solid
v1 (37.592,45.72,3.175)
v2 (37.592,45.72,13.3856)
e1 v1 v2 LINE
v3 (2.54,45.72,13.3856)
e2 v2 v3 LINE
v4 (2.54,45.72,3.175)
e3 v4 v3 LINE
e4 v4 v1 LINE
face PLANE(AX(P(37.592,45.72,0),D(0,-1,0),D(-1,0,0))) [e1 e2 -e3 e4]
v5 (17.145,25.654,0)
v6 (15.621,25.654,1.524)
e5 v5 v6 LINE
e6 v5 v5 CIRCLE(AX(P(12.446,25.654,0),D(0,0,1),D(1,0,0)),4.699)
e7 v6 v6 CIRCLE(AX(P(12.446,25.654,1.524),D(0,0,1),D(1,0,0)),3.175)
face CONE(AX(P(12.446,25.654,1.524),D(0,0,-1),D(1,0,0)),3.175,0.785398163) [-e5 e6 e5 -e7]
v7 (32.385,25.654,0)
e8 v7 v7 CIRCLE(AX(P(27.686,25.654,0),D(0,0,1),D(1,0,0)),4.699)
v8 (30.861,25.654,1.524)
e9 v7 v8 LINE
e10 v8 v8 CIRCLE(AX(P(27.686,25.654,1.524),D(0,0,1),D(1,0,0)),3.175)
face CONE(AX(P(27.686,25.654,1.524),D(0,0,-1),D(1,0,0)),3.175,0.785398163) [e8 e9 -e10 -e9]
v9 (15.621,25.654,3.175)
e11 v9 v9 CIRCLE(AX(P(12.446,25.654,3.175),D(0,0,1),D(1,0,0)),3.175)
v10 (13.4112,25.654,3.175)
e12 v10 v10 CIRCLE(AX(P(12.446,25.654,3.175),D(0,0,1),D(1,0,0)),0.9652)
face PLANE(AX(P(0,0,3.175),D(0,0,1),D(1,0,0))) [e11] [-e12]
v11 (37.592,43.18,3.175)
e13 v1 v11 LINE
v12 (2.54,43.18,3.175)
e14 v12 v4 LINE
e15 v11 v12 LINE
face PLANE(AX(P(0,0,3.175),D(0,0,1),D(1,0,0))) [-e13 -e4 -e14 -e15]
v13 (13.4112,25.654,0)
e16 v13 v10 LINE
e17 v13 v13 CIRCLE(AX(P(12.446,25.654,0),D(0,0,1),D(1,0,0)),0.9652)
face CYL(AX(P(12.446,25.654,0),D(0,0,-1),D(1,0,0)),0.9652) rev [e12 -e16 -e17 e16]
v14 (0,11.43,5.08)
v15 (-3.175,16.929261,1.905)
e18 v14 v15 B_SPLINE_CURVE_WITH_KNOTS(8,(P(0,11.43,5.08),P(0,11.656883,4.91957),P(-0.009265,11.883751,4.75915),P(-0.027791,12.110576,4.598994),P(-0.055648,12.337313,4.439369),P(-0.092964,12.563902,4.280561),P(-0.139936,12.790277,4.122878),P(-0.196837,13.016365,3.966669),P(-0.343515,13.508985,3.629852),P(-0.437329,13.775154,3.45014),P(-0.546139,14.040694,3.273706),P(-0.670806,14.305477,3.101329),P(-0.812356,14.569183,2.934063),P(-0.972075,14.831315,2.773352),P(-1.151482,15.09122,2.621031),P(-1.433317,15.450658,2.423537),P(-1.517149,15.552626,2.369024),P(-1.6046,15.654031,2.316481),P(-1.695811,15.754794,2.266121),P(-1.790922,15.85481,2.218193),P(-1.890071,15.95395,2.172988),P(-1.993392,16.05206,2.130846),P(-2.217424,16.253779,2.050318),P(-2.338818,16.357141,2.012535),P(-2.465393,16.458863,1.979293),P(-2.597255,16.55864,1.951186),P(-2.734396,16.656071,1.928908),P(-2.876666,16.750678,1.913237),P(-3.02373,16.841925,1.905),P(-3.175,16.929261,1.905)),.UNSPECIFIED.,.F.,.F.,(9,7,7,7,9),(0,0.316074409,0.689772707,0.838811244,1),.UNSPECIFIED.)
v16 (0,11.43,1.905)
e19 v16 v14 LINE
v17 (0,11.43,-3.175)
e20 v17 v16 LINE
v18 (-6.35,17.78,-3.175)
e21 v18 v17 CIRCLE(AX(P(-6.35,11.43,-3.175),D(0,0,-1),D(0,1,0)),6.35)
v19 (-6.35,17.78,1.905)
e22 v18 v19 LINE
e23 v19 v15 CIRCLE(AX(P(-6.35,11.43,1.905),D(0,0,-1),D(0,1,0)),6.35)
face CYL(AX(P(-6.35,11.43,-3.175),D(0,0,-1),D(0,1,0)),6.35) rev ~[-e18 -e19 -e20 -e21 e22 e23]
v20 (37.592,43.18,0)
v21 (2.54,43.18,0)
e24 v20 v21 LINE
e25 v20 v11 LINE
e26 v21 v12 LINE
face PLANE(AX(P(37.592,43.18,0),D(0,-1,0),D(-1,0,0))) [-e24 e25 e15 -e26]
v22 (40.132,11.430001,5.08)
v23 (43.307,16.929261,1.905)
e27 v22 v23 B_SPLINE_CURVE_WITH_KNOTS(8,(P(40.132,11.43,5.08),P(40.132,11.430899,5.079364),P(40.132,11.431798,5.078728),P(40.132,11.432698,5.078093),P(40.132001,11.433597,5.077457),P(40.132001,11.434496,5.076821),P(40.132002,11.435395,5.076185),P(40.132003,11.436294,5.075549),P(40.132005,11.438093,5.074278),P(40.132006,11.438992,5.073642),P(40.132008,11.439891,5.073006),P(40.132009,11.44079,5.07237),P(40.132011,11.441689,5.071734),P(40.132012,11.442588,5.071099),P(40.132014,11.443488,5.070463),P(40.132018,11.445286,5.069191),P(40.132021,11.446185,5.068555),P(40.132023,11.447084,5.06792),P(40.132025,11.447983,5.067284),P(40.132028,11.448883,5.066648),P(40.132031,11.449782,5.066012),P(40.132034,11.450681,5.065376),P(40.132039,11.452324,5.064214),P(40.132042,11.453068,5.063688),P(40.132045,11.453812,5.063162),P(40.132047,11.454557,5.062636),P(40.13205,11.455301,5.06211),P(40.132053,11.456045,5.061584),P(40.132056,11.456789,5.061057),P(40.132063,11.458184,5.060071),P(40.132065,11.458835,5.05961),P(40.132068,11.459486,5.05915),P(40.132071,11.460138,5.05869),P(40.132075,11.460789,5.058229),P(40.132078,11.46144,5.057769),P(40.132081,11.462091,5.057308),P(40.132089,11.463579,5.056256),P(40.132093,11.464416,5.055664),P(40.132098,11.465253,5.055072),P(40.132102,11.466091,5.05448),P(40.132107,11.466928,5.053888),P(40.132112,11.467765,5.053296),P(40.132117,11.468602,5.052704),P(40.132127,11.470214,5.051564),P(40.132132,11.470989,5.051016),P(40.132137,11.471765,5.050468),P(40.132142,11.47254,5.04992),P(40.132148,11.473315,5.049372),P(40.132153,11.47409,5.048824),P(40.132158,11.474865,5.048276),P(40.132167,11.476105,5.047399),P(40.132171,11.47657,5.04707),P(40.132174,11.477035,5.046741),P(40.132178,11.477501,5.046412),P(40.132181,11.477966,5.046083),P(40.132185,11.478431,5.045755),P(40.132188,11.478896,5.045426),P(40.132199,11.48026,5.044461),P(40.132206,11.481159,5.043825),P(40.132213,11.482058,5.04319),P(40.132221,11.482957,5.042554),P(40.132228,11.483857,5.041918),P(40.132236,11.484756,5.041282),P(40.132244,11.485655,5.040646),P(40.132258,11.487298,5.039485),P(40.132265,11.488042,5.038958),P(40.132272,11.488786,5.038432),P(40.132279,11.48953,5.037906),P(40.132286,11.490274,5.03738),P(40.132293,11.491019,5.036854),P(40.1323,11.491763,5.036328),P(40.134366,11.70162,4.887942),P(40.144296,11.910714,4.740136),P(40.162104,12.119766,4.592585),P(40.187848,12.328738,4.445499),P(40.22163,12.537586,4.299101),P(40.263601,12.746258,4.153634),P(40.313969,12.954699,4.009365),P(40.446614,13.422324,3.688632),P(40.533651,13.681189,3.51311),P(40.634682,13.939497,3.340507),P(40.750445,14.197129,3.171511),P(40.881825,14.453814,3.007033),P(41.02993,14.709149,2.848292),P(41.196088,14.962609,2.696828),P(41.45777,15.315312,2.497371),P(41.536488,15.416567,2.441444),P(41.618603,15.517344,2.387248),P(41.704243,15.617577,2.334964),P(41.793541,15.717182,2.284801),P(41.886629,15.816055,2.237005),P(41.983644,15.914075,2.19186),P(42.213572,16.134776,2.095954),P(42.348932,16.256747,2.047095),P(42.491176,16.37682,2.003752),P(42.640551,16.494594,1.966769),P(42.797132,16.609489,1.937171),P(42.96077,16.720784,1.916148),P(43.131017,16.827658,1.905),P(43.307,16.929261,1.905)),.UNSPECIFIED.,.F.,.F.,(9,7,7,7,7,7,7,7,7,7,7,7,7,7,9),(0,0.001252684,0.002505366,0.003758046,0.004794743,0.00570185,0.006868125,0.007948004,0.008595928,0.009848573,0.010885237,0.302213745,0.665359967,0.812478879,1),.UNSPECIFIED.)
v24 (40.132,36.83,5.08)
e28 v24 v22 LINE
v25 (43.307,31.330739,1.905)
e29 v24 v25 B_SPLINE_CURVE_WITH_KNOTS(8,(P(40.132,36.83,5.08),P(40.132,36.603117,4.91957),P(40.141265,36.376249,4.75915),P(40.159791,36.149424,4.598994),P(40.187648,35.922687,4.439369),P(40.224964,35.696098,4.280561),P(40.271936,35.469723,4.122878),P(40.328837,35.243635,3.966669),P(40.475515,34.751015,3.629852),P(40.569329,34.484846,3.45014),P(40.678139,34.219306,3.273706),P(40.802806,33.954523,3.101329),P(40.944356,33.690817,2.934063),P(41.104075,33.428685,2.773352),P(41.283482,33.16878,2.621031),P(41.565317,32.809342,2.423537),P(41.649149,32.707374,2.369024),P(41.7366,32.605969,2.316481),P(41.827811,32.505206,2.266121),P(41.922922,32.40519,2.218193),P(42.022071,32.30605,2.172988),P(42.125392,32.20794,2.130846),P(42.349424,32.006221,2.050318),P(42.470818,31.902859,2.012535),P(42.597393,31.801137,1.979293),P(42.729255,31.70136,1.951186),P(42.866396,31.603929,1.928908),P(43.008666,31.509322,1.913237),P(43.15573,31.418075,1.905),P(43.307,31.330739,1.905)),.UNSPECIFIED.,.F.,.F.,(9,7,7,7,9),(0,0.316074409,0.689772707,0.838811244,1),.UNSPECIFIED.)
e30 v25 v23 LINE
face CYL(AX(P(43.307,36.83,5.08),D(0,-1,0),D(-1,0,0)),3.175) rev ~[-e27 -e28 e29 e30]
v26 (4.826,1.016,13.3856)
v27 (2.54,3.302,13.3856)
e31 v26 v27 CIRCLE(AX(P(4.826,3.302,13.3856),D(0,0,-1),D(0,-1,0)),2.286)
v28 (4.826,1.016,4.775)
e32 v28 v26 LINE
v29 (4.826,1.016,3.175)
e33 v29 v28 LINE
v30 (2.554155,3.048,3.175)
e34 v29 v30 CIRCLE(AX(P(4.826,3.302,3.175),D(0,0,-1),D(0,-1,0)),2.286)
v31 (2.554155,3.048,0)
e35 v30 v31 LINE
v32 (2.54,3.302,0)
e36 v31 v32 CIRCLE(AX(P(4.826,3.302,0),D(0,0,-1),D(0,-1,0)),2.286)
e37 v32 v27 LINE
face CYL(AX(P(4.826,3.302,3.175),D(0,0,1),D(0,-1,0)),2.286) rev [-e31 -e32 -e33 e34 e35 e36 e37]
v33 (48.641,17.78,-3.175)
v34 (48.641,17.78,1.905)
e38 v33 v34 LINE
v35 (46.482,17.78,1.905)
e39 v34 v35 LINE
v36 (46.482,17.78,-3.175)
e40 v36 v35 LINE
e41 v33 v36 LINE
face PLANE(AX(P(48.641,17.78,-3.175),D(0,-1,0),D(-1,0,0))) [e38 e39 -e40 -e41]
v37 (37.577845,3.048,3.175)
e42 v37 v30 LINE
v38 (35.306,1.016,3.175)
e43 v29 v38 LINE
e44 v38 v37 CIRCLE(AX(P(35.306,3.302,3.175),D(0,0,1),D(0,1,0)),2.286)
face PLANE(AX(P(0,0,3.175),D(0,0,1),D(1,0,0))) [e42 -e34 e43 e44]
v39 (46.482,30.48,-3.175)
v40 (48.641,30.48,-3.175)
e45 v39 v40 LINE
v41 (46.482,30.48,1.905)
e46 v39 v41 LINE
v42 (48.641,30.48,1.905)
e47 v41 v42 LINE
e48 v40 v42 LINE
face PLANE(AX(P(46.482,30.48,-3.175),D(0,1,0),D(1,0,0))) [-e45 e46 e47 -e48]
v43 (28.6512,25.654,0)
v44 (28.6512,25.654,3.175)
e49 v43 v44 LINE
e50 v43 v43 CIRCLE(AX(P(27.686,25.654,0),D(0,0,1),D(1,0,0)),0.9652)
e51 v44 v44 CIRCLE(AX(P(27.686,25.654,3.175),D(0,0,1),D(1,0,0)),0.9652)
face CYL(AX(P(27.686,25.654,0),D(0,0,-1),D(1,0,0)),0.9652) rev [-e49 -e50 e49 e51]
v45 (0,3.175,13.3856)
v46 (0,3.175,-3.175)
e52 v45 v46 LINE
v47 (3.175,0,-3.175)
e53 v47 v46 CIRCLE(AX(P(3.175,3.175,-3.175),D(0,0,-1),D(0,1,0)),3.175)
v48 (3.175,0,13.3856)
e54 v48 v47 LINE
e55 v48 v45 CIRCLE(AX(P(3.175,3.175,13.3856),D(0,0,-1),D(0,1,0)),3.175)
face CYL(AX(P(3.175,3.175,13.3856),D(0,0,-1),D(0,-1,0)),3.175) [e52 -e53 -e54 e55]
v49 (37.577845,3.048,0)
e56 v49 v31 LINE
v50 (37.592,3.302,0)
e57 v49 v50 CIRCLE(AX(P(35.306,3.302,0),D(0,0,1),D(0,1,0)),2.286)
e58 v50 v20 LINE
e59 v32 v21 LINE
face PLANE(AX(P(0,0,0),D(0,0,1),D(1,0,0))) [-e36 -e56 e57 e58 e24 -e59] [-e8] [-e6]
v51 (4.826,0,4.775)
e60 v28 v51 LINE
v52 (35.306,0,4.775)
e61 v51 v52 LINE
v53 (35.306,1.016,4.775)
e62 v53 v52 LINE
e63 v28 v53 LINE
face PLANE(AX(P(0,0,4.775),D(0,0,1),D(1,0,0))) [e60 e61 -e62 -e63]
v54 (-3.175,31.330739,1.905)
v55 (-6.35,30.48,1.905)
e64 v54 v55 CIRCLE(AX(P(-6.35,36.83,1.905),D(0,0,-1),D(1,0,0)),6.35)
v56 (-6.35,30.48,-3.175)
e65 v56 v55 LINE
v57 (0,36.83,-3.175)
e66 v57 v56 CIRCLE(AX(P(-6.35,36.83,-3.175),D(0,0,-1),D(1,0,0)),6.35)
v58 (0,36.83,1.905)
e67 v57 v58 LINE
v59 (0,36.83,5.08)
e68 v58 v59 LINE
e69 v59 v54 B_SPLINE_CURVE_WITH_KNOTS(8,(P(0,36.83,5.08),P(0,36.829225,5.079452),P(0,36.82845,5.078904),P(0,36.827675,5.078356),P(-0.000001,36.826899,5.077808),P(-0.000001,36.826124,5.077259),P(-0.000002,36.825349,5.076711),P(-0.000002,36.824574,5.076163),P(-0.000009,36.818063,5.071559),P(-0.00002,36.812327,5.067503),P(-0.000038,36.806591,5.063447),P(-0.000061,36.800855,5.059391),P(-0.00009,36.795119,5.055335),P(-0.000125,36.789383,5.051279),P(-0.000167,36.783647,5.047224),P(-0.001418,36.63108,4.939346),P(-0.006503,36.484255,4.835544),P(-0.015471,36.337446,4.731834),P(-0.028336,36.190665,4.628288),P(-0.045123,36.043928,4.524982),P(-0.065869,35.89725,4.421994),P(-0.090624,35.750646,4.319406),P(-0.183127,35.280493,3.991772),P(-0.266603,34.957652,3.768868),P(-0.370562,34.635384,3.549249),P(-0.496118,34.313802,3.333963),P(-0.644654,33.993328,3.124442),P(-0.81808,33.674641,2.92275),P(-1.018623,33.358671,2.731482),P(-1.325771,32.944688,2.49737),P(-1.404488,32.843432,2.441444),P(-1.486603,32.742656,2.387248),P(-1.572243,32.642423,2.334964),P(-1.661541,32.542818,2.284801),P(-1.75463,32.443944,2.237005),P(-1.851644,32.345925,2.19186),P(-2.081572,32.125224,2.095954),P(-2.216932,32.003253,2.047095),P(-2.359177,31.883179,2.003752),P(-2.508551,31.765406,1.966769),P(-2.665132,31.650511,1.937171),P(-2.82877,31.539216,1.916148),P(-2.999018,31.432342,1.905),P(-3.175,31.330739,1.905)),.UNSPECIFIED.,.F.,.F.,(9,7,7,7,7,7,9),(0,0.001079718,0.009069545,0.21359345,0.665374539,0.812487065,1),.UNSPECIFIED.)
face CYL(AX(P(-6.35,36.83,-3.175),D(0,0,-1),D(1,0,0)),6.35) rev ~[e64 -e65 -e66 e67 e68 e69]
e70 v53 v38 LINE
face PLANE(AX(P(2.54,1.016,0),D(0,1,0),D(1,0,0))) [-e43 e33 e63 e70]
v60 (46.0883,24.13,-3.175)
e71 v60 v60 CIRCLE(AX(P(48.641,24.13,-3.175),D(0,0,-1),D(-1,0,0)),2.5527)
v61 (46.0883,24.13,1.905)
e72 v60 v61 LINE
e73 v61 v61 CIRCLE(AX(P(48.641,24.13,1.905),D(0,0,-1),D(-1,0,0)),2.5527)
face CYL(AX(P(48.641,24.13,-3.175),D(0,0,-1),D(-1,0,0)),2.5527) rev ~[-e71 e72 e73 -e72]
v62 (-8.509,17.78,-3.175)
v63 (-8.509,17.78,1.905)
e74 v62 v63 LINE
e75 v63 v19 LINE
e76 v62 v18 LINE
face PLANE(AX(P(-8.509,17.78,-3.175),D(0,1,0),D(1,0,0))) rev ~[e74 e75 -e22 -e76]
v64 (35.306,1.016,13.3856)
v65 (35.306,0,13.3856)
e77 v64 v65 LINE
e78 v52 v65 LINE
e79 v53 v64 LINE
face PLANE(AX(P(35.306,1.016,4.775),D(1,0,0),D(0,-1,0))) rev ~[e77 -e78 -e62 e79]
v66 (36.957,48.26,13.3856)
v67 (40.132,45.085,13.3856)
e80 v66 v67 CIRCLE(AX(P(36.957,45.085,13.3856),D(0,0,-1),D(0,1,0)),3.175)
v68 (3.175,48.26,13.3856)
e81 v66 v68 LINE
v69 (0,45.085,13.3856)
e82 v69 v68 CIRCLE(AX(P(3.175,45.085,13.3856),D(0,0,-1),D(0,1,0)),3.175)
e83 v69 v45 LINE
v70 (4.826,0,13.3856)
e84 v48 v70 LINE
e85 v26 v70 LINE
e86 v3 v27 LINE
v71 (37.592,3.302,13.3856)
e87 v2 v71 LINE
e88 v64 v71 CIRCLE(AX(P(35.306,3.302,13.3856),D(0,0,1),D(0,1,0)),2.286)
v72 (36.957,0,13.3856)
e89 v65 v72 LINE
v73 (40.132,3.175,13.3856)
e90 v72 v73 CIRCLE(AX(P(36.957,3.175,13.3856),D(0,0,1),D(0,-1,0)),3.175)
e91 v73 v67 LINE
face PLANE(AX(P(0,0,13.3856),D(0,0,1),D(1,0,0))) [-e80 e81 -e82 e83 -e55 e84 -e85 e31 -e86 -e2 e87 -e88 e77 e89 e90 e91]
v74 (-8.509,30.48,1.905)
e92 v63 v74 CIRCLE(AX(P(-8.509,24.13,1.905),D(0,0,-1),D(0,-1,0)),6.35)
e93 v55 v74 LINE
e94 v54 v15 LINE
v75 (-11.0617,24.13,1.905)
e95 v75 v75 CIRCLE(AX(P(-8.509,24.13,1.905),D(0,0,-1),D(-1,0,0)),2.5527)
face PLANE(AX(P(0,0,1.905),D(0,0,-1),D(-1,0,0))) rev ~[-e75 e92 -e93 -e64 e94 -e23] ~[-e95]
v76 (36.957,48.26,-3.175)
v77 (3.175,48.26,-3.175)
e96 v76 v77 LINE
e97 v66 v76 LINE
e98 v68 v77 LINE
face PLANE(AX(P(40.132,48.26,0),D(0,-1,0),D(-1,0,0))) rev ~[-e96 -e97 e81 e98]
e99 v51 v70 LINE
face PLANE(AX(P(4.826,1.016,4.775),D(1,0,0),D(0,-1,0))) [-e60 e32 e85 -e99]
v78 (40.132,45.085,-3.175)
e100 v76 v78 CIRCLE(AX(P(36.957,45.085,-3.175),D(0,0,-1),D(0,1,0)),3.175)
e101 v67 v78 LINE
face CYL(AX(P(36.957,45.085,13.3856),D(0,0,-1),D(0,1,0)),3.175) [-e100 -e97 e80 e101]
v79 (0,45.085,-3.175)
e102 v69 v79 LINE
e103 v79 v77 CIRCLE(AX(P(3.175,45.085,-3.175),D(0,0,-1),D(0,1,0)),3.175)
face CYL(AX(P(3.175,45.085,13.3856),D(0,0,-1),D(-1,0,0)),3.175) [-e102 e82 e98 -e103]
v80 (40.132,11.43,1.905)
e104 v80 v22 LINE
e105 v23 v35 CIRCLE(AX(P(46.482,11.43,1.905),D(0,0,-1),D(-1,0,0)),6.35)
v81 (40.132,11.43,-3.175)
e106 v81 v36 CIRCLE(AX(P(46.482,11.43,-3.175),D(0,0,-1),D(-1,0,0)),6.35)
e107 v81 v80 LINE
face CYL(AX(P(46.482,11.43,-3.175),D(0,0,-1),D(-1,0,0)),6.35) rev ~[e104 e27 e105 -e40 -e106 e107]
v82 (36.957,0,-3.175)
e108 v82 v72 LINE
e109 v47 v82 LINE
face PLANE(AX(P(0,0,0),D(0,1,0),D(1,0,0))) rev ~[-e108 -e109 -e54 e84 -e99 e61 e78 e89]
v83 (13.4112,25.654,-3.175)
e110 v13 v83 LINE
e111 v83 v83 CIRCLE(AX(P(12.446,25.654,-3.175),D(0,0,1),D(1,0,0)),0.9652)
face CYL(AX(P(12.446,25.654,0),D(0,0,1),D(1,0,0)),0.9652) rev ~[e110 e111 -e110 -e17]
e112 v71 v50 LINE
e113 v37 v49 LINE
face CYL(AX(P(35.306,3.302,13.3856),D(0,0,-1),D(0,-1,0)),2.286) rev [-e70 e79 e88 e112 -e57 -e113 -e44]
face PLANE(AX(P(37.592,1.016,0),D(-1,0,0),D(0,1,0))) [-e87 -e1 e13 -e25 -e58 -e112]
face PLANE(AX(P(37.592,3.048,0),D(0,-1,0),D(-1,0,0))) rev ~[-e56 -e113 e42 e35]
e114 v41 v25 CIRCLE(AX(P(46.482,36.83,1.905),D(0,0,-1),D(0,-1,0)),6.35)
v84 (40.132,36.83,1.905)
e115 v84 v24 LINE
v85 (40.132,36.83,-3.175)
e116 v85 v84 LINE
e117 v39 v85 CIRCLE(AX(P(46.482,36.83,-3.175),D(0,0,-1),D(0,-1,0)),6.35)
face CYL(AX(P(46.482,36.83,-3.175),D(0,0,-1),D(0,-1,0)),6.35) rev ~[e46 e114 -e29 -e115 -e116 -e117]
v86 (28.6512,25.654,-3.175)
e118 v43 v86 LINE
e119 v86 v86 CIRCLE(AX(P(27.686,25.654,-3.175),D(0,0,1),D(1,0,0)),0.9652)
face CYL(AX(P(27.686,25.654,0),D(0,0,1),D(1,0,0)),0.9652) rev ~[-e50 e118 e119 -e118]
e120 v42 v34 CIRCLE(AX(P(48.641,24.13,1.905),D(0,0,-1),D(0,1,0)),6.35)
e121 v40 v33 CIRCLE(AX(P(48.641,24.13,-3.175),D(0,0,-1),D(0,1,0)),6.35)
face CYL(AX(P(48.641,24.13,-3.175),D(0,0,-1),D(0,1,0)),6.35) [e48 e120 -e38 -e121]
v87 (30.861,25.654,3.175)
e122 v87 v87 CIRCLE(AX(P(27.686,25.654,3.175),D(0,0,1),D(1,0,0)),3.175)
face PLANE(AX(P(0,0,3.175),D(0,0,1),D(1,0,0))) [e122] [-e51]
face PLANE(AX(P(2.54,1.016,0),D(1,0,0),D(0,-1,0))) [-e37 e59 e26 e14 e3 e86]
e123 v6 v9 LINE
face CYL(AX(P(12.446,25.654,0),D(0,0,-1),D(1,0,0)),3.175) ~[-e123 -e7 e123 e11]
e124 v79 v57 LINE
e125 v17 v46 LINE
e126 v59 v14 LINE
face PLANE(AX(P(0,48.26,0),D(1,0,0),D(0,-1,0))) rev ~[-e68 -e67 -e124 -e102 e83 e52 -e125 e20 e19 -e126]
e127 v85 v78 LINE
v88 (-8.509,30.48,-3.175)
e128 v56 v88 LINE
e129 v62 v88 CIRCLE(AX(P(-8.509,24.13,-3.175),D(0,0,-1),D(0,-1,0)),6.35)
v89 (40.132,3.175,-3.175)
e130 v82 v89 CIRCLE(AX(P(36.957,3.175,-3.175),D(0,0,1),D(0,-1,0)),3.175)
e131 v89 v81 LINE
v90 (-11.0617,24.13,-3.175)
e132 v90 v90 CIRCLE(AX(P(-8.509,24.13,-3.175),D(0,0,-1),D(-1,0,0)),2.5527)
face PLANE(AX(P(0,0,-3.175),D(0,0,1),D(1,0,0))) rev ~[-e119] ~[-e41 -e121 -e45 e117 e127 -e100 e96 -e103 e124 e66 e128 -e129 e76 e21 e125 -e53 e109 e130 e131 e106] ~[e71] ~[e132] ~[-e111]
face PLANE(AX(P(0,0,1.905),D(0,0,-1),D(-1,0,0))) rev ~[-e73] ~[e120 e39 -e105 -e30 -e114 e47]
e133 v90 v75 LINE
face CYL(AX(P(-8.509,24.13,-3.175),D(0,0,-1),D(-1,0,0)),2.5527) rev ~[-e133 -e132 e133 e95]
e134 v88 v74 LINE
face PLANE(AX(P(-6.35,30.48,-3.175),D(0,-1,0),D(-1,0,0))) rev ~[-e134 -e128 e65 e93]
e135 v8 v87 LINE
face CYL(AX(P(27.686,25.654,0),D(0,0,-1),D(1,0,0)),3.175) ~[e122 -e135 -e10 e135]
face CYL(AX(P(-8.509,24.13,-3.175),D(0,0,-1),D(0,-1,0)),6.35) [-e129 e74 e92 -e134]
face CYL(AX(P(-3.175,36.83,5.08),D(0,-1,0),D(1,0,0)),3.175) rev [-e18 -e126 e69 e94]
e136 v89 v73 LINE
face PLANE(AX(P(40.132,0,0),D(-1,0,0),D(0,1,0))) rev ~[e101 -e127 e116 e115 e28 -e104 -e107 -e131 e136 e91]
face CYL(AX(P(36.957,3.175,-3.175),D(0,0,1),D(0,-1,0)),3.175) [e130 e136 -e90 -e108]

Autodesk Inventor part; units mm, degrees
ref_plane "YZ Plane" through (0, 0, 0) normal (1, 0, 0) x (0, 1, 0)
ref_plane "XZ Plane" through (0, 0, 0) normal (0, 1, 0) x (-1, 0, 0)
ref_plane "XY Plane" through (0, 0, 0) normal (0, 0, 1) x (1, 0, 0)
sketch "Sketch1" plane through (0, 0, 0) normal (0, 0, 1) x (1, 0, 0)
  line L0 (0, 0) -> (40.132, 0)
  line L1 (40.132, 0) -> (40.132, 48.26)
  line L2 (40.132, 48.26) -> (0, 48.26)
  line L3 (0, 48.26) -> (0, 0)
  line L4 (3.556, 44.704) -> (36.576, 44.704) construction
  line L5 (36.576, 44.704) -> (36.576, 1.524) construction
  line L6 (36.576, 1.524) -> (3.556, 1.524) construction
  line L7 (3.556, 1.524) -> (3.556, 44.704) construction
  line L8 (37.592, 1.016) -> (37.592, 45.72)
  line L9 (37.592, 45.72) -> (2.54, 45.72)
  line L10 (2.54, 45.72) -> (2.54, 1.016)
  line L11 (2.54, 1.016) -> (37.592, 1.016) construction
  line L12 (2.54, 1.016) -> (2.54, 0)
  line L13 (37.592, 1.016) -> (37.592, 0)
  line L14 (12.446, 25.654) -> (27.686, 25.654)
  point P0 (20.066, 48.26)
  point P1 (20.066, 44.704)
  point P2 (3.556, 23.114)
  point P3 (0, 24.13)
  point P4 (20.066, 25.654)
  dimension "d2" = 33.02
  dimension "d3" = 43.18
  dimension "d4" = 1.524
  dimension "d8" = 2.54
  dimension "d9" = 1.016
  dimension "d14" = 15.24
  dimension "d15" = 19.05
  dimension "d34" = 1.016
  dimension "d35" = 1.016
extrude "Extrusion1" add sketch "Sketch1" against normal blind 3.175
sketch "Sketch2" plane through (0, 0, 0) normal (0, 0, 1) x (1, 0, 0)
  line L0 (2.54, 1.016) -> (2.54, 0) projected
  line L1 (0, 48.26) -> (0, 0) projected
  line L2 (2.54, 45.72) -> (2.54, 1.016) projected
  line L3 (37.592, 45.72) -> (2.54, 45.72) projected
  line L4 (40.132, 48.26) -> (0, 48.26) projected
  line L5 (40.132, 0) -> (40.132, 48.26) projected
  line L6 (37.592, 1.016) -> (37.592, 0) projected
  line L7 (37.592, 1.016) -> (37.592, 45.72) projected
  line L8 (0, 0) -> (2.54, 0)
  line L9 (37.592, 0) -> (40.132, 0)
extrude "Extrusion2" add sketch "Sketch2" along normal blind 13.3856
sketch "Sketch3" plane through (0, 0, 0) normal (0, 0, 1) x (1, 0, 0)
  line L0 (2.54, 1.016) -> (37.592, 1.016) projected
  line L1 (2.54, 0) -> (37.592, 0) projected
  line L2 (2.54, 0) -> (2.54, 45.72) projected
  line L3 (37.592, 45.72) -> (37.592, 0) projected
  point P0 (0, 0)
extrude "Extrusion3" add sketch "Sketch3" along normal blind 4.775
sketch "Sketch4" plane through (0, 0, 0) normal (0, 0, 1) x (1, 0, 0)
  circle A0 centre (12.446, 25.654) radius 3.175
  circle A1 centre (27.686, 25.654) radius 3.175
  circle A2 centre (12.446, 25.654) radius 0.9652
  circle A3 centre (27.686, 25.654) radius 0.9652
  point P0 (0, 0)
  dimension "d16" = 6.35
  dimension "d18" = 1.9304
extrude "Extrusion4" add sketch "Sketch4" along normal blind 3.175
extrude "Extrusion8" cut sketch "Sketch4" against normal through all contours A2 | A3
sketch "Sketch5" plane through (0, 0, 0) normal (0, 0, 1) x (1, 0, 0)
  circle A0 centre (12.446, 25.654) radius 3.175 construction
  circle A1 centre (27.686, 25.654) radius 3.175 construction
  line L0 (2.54, 1.016) -> (37.592, 1.016) construction
  line L1 (37.592, 1.016) -> (37.592, 45.72) construction
  line L2 (37.592, 45.72) -> (2.54, 45.72) construction
  line L3 (2.54, 45.72) -> (2.54, 1.016) construction
  line L4 (3.556, 44.704) -> (36.576, 44.704) construction
  line L5 (3.556, 1.524) -> (3.556, 44.704) construction
  line L6 (36.576, 44.704) -> (36.576, 1.524) construction
  line L7 (36.576, 1.524) -> (3.556, 1.524) construction
  line L8 (2.54, 1.016) -> (37.592, 1.016)
  line L9 (37.592, 1.016) -> (37.592, 3.048)
  line L10 (37.592, 3.048) -> (2.54, 3.048)
  line L11 (2.54, 3.048) -> (2.54, 1.016)
  line L12 (2.54, 45.72) -> (37.592, 45.72)
  line L13 (37.592, 45.72) -> (37.592, 43.18)
  line L14 (37.592, 43.18) -> (2.54, 43.18)
  line L15 (2.54, 43.18) -> (2.54, 45.72)
  point P0 (0, 0)
  dimension "d21" = 1.524
  dimension "d25" = 1.524
extrude "Extrusion5" add sketch "Sketch5" along normal blind 3.175
sketch "Sketch6" plane through (0, 0, 4.775) normal (0, 0, 1) x (1, 0, 0)
  line L0 (40.132, 0) -> (0, 0) construction
  line L1 (4.826, 0) -> (2.54, 0)
  line L2 (2.54, 0) -> (2.54, 1.016)
  line L3 (2.54, 1.016) -> (4.826, 1.016)
  line L4 (4.826, 1.016) -> (4.826, 0)
  line L5 (2.54, 0) -> (2.54, 45.72) projected
  line L6 (37.592, 1.016) -> (2.54, 1.016) construction
  line L7 (35.306, 0) -> (37.592, 0)
  line L8 (37.592, 0) -> (37.592, 1.016)
  line L9 (37.592, 1.016) -> (35.306, 1.016)
  line L10 (35.306, 1.016) -> (35.306, 0)
  dimension "d26" = 2.286
  dimension "d27" = 2.286
extrude "Extrusion6" add sketch "Sketch6" along normal up to surface (8.6106 mm away)
fillet "Fillet1" radius 2.286 2 edges at (37.592, 1.016, 8.2803) (2.54, 1.016, 8.2803)
chamfer "Chamfer2" distance 1.524 angle 45 2 edges at (9.271, 25.654, 0) (24.511, 25.654, 0)
fillet "Fillet2" radius 3.175 4 edges at (0, 0, 5.1053) (40.132, 0, 5.1053) (40.132, 48.26, 5.1053) (0, 48.26, 5.1053)
sketch "Sketch7" plane through (0, 0, -3.175) normal (0, 0, -1) x (-1, 0, 0)
  circle A0 centre (8.509, 24.13) radius 2.5527
  line L0 (-3.175, 48.26) -> (-36.957, 48.26) construction
  line L1 (-40.132, 45.085) -> (-40.132, 3.175) construction
  line L2 (-36.957, 0) -> (-3.175, 0) construction
  line L3 (0, 3.175) -> (0, 45.085) construction
  line L4 (-40.132, 48.26) -> (0, 48.26) construction
  line L5 (-20.066, 48.26) -> (-20.066, 0) construction
  arc A1 (0, 36.83) -> (6.35, 30.48) centre (6.35, 36.83) ccw
  arc A2 (6.35, 17.78) -> (0, 11.43) centre (6.35, 11.43) ccw
  line L6 (6.35, 30.48) -> (8.509, 30.48)
  arc A3 (8.509, 17.78) -> (8.509, 30.48) centre (8.509, 24.13) ccw
  line L7 (8.509, 17.78) -> (6.35, 17.78)
  line L8 (0, 36.83) -> (0, 11.43)
  line L9 (0, 0) -> (0, 48.26) projected
  circle A4 centre (-48.641, 24.13) radius 2.5527
  arc A5 (-46.482, 30.48) -> (-40.132, 36.83) centre (-46.482, 36.83) ccw
  arc A6 (-40.132, 11.43) -> (-46.482, 17.78) centre (-46.482, 11.43) ccw
  line L10 (-46.482, 30.48) -> (-48.641, 30.48)
  arc A7 (-48.641, 30.48) -> (-48.641, 17.78) centre (-48.641, 24.13) ccw
  line L11 (-48.641, 17.78) -> (-46.482, 17.78)
  line L12 (-40.132, 36.83) -> (-40.132, 11.43)
  arc A8 (0, 45.085) -> (-3.175, 48.26) centre (-3.175, 45.085) ccw projected
  arc A9 (-36.957, 48.26) -> (-40.132, 45.085) centre (-36.957, 45.085) ccw projected
  arc A10 (-40.132, 3.175) -> (-36.957, 0) centre (-36.957, 3.175) ccw projected
  arc A11 (-3.175, 0) -> (0, 3.175) centre (-3.175, 3.175) ccw projected
  point P0 (-3.175, 48.26)
  point P1 (0, 24.13)
  point P2 (-40.132, 24.13)
  dimension "d40" = 5.1054
  dimension "d41" = 6.35
  dimension "d43" = 6.35
  dimension "d44" = 57.15
extrude "Extrusion7" add sketch "Sketch7" against normal blind 5.08
fillet "Fillet3" radius 3.175 2 edges at (40.132, 24.13, 1.905) (0, 24.13, 1.905)
equation "\"d12\" = BoardOffset + PCBThickness"
equation "\"d19\" = BoardOffset"
equation "\"d23\" = BoardOffset"
equation "\"d27\" = d26"
equation "\"d28\" = BoardOffset"
equation "\"PCBThickness\" = 1.6"
equation "\"BoardOffset\" = 3.175"
properties part number "TOF Case P1"
